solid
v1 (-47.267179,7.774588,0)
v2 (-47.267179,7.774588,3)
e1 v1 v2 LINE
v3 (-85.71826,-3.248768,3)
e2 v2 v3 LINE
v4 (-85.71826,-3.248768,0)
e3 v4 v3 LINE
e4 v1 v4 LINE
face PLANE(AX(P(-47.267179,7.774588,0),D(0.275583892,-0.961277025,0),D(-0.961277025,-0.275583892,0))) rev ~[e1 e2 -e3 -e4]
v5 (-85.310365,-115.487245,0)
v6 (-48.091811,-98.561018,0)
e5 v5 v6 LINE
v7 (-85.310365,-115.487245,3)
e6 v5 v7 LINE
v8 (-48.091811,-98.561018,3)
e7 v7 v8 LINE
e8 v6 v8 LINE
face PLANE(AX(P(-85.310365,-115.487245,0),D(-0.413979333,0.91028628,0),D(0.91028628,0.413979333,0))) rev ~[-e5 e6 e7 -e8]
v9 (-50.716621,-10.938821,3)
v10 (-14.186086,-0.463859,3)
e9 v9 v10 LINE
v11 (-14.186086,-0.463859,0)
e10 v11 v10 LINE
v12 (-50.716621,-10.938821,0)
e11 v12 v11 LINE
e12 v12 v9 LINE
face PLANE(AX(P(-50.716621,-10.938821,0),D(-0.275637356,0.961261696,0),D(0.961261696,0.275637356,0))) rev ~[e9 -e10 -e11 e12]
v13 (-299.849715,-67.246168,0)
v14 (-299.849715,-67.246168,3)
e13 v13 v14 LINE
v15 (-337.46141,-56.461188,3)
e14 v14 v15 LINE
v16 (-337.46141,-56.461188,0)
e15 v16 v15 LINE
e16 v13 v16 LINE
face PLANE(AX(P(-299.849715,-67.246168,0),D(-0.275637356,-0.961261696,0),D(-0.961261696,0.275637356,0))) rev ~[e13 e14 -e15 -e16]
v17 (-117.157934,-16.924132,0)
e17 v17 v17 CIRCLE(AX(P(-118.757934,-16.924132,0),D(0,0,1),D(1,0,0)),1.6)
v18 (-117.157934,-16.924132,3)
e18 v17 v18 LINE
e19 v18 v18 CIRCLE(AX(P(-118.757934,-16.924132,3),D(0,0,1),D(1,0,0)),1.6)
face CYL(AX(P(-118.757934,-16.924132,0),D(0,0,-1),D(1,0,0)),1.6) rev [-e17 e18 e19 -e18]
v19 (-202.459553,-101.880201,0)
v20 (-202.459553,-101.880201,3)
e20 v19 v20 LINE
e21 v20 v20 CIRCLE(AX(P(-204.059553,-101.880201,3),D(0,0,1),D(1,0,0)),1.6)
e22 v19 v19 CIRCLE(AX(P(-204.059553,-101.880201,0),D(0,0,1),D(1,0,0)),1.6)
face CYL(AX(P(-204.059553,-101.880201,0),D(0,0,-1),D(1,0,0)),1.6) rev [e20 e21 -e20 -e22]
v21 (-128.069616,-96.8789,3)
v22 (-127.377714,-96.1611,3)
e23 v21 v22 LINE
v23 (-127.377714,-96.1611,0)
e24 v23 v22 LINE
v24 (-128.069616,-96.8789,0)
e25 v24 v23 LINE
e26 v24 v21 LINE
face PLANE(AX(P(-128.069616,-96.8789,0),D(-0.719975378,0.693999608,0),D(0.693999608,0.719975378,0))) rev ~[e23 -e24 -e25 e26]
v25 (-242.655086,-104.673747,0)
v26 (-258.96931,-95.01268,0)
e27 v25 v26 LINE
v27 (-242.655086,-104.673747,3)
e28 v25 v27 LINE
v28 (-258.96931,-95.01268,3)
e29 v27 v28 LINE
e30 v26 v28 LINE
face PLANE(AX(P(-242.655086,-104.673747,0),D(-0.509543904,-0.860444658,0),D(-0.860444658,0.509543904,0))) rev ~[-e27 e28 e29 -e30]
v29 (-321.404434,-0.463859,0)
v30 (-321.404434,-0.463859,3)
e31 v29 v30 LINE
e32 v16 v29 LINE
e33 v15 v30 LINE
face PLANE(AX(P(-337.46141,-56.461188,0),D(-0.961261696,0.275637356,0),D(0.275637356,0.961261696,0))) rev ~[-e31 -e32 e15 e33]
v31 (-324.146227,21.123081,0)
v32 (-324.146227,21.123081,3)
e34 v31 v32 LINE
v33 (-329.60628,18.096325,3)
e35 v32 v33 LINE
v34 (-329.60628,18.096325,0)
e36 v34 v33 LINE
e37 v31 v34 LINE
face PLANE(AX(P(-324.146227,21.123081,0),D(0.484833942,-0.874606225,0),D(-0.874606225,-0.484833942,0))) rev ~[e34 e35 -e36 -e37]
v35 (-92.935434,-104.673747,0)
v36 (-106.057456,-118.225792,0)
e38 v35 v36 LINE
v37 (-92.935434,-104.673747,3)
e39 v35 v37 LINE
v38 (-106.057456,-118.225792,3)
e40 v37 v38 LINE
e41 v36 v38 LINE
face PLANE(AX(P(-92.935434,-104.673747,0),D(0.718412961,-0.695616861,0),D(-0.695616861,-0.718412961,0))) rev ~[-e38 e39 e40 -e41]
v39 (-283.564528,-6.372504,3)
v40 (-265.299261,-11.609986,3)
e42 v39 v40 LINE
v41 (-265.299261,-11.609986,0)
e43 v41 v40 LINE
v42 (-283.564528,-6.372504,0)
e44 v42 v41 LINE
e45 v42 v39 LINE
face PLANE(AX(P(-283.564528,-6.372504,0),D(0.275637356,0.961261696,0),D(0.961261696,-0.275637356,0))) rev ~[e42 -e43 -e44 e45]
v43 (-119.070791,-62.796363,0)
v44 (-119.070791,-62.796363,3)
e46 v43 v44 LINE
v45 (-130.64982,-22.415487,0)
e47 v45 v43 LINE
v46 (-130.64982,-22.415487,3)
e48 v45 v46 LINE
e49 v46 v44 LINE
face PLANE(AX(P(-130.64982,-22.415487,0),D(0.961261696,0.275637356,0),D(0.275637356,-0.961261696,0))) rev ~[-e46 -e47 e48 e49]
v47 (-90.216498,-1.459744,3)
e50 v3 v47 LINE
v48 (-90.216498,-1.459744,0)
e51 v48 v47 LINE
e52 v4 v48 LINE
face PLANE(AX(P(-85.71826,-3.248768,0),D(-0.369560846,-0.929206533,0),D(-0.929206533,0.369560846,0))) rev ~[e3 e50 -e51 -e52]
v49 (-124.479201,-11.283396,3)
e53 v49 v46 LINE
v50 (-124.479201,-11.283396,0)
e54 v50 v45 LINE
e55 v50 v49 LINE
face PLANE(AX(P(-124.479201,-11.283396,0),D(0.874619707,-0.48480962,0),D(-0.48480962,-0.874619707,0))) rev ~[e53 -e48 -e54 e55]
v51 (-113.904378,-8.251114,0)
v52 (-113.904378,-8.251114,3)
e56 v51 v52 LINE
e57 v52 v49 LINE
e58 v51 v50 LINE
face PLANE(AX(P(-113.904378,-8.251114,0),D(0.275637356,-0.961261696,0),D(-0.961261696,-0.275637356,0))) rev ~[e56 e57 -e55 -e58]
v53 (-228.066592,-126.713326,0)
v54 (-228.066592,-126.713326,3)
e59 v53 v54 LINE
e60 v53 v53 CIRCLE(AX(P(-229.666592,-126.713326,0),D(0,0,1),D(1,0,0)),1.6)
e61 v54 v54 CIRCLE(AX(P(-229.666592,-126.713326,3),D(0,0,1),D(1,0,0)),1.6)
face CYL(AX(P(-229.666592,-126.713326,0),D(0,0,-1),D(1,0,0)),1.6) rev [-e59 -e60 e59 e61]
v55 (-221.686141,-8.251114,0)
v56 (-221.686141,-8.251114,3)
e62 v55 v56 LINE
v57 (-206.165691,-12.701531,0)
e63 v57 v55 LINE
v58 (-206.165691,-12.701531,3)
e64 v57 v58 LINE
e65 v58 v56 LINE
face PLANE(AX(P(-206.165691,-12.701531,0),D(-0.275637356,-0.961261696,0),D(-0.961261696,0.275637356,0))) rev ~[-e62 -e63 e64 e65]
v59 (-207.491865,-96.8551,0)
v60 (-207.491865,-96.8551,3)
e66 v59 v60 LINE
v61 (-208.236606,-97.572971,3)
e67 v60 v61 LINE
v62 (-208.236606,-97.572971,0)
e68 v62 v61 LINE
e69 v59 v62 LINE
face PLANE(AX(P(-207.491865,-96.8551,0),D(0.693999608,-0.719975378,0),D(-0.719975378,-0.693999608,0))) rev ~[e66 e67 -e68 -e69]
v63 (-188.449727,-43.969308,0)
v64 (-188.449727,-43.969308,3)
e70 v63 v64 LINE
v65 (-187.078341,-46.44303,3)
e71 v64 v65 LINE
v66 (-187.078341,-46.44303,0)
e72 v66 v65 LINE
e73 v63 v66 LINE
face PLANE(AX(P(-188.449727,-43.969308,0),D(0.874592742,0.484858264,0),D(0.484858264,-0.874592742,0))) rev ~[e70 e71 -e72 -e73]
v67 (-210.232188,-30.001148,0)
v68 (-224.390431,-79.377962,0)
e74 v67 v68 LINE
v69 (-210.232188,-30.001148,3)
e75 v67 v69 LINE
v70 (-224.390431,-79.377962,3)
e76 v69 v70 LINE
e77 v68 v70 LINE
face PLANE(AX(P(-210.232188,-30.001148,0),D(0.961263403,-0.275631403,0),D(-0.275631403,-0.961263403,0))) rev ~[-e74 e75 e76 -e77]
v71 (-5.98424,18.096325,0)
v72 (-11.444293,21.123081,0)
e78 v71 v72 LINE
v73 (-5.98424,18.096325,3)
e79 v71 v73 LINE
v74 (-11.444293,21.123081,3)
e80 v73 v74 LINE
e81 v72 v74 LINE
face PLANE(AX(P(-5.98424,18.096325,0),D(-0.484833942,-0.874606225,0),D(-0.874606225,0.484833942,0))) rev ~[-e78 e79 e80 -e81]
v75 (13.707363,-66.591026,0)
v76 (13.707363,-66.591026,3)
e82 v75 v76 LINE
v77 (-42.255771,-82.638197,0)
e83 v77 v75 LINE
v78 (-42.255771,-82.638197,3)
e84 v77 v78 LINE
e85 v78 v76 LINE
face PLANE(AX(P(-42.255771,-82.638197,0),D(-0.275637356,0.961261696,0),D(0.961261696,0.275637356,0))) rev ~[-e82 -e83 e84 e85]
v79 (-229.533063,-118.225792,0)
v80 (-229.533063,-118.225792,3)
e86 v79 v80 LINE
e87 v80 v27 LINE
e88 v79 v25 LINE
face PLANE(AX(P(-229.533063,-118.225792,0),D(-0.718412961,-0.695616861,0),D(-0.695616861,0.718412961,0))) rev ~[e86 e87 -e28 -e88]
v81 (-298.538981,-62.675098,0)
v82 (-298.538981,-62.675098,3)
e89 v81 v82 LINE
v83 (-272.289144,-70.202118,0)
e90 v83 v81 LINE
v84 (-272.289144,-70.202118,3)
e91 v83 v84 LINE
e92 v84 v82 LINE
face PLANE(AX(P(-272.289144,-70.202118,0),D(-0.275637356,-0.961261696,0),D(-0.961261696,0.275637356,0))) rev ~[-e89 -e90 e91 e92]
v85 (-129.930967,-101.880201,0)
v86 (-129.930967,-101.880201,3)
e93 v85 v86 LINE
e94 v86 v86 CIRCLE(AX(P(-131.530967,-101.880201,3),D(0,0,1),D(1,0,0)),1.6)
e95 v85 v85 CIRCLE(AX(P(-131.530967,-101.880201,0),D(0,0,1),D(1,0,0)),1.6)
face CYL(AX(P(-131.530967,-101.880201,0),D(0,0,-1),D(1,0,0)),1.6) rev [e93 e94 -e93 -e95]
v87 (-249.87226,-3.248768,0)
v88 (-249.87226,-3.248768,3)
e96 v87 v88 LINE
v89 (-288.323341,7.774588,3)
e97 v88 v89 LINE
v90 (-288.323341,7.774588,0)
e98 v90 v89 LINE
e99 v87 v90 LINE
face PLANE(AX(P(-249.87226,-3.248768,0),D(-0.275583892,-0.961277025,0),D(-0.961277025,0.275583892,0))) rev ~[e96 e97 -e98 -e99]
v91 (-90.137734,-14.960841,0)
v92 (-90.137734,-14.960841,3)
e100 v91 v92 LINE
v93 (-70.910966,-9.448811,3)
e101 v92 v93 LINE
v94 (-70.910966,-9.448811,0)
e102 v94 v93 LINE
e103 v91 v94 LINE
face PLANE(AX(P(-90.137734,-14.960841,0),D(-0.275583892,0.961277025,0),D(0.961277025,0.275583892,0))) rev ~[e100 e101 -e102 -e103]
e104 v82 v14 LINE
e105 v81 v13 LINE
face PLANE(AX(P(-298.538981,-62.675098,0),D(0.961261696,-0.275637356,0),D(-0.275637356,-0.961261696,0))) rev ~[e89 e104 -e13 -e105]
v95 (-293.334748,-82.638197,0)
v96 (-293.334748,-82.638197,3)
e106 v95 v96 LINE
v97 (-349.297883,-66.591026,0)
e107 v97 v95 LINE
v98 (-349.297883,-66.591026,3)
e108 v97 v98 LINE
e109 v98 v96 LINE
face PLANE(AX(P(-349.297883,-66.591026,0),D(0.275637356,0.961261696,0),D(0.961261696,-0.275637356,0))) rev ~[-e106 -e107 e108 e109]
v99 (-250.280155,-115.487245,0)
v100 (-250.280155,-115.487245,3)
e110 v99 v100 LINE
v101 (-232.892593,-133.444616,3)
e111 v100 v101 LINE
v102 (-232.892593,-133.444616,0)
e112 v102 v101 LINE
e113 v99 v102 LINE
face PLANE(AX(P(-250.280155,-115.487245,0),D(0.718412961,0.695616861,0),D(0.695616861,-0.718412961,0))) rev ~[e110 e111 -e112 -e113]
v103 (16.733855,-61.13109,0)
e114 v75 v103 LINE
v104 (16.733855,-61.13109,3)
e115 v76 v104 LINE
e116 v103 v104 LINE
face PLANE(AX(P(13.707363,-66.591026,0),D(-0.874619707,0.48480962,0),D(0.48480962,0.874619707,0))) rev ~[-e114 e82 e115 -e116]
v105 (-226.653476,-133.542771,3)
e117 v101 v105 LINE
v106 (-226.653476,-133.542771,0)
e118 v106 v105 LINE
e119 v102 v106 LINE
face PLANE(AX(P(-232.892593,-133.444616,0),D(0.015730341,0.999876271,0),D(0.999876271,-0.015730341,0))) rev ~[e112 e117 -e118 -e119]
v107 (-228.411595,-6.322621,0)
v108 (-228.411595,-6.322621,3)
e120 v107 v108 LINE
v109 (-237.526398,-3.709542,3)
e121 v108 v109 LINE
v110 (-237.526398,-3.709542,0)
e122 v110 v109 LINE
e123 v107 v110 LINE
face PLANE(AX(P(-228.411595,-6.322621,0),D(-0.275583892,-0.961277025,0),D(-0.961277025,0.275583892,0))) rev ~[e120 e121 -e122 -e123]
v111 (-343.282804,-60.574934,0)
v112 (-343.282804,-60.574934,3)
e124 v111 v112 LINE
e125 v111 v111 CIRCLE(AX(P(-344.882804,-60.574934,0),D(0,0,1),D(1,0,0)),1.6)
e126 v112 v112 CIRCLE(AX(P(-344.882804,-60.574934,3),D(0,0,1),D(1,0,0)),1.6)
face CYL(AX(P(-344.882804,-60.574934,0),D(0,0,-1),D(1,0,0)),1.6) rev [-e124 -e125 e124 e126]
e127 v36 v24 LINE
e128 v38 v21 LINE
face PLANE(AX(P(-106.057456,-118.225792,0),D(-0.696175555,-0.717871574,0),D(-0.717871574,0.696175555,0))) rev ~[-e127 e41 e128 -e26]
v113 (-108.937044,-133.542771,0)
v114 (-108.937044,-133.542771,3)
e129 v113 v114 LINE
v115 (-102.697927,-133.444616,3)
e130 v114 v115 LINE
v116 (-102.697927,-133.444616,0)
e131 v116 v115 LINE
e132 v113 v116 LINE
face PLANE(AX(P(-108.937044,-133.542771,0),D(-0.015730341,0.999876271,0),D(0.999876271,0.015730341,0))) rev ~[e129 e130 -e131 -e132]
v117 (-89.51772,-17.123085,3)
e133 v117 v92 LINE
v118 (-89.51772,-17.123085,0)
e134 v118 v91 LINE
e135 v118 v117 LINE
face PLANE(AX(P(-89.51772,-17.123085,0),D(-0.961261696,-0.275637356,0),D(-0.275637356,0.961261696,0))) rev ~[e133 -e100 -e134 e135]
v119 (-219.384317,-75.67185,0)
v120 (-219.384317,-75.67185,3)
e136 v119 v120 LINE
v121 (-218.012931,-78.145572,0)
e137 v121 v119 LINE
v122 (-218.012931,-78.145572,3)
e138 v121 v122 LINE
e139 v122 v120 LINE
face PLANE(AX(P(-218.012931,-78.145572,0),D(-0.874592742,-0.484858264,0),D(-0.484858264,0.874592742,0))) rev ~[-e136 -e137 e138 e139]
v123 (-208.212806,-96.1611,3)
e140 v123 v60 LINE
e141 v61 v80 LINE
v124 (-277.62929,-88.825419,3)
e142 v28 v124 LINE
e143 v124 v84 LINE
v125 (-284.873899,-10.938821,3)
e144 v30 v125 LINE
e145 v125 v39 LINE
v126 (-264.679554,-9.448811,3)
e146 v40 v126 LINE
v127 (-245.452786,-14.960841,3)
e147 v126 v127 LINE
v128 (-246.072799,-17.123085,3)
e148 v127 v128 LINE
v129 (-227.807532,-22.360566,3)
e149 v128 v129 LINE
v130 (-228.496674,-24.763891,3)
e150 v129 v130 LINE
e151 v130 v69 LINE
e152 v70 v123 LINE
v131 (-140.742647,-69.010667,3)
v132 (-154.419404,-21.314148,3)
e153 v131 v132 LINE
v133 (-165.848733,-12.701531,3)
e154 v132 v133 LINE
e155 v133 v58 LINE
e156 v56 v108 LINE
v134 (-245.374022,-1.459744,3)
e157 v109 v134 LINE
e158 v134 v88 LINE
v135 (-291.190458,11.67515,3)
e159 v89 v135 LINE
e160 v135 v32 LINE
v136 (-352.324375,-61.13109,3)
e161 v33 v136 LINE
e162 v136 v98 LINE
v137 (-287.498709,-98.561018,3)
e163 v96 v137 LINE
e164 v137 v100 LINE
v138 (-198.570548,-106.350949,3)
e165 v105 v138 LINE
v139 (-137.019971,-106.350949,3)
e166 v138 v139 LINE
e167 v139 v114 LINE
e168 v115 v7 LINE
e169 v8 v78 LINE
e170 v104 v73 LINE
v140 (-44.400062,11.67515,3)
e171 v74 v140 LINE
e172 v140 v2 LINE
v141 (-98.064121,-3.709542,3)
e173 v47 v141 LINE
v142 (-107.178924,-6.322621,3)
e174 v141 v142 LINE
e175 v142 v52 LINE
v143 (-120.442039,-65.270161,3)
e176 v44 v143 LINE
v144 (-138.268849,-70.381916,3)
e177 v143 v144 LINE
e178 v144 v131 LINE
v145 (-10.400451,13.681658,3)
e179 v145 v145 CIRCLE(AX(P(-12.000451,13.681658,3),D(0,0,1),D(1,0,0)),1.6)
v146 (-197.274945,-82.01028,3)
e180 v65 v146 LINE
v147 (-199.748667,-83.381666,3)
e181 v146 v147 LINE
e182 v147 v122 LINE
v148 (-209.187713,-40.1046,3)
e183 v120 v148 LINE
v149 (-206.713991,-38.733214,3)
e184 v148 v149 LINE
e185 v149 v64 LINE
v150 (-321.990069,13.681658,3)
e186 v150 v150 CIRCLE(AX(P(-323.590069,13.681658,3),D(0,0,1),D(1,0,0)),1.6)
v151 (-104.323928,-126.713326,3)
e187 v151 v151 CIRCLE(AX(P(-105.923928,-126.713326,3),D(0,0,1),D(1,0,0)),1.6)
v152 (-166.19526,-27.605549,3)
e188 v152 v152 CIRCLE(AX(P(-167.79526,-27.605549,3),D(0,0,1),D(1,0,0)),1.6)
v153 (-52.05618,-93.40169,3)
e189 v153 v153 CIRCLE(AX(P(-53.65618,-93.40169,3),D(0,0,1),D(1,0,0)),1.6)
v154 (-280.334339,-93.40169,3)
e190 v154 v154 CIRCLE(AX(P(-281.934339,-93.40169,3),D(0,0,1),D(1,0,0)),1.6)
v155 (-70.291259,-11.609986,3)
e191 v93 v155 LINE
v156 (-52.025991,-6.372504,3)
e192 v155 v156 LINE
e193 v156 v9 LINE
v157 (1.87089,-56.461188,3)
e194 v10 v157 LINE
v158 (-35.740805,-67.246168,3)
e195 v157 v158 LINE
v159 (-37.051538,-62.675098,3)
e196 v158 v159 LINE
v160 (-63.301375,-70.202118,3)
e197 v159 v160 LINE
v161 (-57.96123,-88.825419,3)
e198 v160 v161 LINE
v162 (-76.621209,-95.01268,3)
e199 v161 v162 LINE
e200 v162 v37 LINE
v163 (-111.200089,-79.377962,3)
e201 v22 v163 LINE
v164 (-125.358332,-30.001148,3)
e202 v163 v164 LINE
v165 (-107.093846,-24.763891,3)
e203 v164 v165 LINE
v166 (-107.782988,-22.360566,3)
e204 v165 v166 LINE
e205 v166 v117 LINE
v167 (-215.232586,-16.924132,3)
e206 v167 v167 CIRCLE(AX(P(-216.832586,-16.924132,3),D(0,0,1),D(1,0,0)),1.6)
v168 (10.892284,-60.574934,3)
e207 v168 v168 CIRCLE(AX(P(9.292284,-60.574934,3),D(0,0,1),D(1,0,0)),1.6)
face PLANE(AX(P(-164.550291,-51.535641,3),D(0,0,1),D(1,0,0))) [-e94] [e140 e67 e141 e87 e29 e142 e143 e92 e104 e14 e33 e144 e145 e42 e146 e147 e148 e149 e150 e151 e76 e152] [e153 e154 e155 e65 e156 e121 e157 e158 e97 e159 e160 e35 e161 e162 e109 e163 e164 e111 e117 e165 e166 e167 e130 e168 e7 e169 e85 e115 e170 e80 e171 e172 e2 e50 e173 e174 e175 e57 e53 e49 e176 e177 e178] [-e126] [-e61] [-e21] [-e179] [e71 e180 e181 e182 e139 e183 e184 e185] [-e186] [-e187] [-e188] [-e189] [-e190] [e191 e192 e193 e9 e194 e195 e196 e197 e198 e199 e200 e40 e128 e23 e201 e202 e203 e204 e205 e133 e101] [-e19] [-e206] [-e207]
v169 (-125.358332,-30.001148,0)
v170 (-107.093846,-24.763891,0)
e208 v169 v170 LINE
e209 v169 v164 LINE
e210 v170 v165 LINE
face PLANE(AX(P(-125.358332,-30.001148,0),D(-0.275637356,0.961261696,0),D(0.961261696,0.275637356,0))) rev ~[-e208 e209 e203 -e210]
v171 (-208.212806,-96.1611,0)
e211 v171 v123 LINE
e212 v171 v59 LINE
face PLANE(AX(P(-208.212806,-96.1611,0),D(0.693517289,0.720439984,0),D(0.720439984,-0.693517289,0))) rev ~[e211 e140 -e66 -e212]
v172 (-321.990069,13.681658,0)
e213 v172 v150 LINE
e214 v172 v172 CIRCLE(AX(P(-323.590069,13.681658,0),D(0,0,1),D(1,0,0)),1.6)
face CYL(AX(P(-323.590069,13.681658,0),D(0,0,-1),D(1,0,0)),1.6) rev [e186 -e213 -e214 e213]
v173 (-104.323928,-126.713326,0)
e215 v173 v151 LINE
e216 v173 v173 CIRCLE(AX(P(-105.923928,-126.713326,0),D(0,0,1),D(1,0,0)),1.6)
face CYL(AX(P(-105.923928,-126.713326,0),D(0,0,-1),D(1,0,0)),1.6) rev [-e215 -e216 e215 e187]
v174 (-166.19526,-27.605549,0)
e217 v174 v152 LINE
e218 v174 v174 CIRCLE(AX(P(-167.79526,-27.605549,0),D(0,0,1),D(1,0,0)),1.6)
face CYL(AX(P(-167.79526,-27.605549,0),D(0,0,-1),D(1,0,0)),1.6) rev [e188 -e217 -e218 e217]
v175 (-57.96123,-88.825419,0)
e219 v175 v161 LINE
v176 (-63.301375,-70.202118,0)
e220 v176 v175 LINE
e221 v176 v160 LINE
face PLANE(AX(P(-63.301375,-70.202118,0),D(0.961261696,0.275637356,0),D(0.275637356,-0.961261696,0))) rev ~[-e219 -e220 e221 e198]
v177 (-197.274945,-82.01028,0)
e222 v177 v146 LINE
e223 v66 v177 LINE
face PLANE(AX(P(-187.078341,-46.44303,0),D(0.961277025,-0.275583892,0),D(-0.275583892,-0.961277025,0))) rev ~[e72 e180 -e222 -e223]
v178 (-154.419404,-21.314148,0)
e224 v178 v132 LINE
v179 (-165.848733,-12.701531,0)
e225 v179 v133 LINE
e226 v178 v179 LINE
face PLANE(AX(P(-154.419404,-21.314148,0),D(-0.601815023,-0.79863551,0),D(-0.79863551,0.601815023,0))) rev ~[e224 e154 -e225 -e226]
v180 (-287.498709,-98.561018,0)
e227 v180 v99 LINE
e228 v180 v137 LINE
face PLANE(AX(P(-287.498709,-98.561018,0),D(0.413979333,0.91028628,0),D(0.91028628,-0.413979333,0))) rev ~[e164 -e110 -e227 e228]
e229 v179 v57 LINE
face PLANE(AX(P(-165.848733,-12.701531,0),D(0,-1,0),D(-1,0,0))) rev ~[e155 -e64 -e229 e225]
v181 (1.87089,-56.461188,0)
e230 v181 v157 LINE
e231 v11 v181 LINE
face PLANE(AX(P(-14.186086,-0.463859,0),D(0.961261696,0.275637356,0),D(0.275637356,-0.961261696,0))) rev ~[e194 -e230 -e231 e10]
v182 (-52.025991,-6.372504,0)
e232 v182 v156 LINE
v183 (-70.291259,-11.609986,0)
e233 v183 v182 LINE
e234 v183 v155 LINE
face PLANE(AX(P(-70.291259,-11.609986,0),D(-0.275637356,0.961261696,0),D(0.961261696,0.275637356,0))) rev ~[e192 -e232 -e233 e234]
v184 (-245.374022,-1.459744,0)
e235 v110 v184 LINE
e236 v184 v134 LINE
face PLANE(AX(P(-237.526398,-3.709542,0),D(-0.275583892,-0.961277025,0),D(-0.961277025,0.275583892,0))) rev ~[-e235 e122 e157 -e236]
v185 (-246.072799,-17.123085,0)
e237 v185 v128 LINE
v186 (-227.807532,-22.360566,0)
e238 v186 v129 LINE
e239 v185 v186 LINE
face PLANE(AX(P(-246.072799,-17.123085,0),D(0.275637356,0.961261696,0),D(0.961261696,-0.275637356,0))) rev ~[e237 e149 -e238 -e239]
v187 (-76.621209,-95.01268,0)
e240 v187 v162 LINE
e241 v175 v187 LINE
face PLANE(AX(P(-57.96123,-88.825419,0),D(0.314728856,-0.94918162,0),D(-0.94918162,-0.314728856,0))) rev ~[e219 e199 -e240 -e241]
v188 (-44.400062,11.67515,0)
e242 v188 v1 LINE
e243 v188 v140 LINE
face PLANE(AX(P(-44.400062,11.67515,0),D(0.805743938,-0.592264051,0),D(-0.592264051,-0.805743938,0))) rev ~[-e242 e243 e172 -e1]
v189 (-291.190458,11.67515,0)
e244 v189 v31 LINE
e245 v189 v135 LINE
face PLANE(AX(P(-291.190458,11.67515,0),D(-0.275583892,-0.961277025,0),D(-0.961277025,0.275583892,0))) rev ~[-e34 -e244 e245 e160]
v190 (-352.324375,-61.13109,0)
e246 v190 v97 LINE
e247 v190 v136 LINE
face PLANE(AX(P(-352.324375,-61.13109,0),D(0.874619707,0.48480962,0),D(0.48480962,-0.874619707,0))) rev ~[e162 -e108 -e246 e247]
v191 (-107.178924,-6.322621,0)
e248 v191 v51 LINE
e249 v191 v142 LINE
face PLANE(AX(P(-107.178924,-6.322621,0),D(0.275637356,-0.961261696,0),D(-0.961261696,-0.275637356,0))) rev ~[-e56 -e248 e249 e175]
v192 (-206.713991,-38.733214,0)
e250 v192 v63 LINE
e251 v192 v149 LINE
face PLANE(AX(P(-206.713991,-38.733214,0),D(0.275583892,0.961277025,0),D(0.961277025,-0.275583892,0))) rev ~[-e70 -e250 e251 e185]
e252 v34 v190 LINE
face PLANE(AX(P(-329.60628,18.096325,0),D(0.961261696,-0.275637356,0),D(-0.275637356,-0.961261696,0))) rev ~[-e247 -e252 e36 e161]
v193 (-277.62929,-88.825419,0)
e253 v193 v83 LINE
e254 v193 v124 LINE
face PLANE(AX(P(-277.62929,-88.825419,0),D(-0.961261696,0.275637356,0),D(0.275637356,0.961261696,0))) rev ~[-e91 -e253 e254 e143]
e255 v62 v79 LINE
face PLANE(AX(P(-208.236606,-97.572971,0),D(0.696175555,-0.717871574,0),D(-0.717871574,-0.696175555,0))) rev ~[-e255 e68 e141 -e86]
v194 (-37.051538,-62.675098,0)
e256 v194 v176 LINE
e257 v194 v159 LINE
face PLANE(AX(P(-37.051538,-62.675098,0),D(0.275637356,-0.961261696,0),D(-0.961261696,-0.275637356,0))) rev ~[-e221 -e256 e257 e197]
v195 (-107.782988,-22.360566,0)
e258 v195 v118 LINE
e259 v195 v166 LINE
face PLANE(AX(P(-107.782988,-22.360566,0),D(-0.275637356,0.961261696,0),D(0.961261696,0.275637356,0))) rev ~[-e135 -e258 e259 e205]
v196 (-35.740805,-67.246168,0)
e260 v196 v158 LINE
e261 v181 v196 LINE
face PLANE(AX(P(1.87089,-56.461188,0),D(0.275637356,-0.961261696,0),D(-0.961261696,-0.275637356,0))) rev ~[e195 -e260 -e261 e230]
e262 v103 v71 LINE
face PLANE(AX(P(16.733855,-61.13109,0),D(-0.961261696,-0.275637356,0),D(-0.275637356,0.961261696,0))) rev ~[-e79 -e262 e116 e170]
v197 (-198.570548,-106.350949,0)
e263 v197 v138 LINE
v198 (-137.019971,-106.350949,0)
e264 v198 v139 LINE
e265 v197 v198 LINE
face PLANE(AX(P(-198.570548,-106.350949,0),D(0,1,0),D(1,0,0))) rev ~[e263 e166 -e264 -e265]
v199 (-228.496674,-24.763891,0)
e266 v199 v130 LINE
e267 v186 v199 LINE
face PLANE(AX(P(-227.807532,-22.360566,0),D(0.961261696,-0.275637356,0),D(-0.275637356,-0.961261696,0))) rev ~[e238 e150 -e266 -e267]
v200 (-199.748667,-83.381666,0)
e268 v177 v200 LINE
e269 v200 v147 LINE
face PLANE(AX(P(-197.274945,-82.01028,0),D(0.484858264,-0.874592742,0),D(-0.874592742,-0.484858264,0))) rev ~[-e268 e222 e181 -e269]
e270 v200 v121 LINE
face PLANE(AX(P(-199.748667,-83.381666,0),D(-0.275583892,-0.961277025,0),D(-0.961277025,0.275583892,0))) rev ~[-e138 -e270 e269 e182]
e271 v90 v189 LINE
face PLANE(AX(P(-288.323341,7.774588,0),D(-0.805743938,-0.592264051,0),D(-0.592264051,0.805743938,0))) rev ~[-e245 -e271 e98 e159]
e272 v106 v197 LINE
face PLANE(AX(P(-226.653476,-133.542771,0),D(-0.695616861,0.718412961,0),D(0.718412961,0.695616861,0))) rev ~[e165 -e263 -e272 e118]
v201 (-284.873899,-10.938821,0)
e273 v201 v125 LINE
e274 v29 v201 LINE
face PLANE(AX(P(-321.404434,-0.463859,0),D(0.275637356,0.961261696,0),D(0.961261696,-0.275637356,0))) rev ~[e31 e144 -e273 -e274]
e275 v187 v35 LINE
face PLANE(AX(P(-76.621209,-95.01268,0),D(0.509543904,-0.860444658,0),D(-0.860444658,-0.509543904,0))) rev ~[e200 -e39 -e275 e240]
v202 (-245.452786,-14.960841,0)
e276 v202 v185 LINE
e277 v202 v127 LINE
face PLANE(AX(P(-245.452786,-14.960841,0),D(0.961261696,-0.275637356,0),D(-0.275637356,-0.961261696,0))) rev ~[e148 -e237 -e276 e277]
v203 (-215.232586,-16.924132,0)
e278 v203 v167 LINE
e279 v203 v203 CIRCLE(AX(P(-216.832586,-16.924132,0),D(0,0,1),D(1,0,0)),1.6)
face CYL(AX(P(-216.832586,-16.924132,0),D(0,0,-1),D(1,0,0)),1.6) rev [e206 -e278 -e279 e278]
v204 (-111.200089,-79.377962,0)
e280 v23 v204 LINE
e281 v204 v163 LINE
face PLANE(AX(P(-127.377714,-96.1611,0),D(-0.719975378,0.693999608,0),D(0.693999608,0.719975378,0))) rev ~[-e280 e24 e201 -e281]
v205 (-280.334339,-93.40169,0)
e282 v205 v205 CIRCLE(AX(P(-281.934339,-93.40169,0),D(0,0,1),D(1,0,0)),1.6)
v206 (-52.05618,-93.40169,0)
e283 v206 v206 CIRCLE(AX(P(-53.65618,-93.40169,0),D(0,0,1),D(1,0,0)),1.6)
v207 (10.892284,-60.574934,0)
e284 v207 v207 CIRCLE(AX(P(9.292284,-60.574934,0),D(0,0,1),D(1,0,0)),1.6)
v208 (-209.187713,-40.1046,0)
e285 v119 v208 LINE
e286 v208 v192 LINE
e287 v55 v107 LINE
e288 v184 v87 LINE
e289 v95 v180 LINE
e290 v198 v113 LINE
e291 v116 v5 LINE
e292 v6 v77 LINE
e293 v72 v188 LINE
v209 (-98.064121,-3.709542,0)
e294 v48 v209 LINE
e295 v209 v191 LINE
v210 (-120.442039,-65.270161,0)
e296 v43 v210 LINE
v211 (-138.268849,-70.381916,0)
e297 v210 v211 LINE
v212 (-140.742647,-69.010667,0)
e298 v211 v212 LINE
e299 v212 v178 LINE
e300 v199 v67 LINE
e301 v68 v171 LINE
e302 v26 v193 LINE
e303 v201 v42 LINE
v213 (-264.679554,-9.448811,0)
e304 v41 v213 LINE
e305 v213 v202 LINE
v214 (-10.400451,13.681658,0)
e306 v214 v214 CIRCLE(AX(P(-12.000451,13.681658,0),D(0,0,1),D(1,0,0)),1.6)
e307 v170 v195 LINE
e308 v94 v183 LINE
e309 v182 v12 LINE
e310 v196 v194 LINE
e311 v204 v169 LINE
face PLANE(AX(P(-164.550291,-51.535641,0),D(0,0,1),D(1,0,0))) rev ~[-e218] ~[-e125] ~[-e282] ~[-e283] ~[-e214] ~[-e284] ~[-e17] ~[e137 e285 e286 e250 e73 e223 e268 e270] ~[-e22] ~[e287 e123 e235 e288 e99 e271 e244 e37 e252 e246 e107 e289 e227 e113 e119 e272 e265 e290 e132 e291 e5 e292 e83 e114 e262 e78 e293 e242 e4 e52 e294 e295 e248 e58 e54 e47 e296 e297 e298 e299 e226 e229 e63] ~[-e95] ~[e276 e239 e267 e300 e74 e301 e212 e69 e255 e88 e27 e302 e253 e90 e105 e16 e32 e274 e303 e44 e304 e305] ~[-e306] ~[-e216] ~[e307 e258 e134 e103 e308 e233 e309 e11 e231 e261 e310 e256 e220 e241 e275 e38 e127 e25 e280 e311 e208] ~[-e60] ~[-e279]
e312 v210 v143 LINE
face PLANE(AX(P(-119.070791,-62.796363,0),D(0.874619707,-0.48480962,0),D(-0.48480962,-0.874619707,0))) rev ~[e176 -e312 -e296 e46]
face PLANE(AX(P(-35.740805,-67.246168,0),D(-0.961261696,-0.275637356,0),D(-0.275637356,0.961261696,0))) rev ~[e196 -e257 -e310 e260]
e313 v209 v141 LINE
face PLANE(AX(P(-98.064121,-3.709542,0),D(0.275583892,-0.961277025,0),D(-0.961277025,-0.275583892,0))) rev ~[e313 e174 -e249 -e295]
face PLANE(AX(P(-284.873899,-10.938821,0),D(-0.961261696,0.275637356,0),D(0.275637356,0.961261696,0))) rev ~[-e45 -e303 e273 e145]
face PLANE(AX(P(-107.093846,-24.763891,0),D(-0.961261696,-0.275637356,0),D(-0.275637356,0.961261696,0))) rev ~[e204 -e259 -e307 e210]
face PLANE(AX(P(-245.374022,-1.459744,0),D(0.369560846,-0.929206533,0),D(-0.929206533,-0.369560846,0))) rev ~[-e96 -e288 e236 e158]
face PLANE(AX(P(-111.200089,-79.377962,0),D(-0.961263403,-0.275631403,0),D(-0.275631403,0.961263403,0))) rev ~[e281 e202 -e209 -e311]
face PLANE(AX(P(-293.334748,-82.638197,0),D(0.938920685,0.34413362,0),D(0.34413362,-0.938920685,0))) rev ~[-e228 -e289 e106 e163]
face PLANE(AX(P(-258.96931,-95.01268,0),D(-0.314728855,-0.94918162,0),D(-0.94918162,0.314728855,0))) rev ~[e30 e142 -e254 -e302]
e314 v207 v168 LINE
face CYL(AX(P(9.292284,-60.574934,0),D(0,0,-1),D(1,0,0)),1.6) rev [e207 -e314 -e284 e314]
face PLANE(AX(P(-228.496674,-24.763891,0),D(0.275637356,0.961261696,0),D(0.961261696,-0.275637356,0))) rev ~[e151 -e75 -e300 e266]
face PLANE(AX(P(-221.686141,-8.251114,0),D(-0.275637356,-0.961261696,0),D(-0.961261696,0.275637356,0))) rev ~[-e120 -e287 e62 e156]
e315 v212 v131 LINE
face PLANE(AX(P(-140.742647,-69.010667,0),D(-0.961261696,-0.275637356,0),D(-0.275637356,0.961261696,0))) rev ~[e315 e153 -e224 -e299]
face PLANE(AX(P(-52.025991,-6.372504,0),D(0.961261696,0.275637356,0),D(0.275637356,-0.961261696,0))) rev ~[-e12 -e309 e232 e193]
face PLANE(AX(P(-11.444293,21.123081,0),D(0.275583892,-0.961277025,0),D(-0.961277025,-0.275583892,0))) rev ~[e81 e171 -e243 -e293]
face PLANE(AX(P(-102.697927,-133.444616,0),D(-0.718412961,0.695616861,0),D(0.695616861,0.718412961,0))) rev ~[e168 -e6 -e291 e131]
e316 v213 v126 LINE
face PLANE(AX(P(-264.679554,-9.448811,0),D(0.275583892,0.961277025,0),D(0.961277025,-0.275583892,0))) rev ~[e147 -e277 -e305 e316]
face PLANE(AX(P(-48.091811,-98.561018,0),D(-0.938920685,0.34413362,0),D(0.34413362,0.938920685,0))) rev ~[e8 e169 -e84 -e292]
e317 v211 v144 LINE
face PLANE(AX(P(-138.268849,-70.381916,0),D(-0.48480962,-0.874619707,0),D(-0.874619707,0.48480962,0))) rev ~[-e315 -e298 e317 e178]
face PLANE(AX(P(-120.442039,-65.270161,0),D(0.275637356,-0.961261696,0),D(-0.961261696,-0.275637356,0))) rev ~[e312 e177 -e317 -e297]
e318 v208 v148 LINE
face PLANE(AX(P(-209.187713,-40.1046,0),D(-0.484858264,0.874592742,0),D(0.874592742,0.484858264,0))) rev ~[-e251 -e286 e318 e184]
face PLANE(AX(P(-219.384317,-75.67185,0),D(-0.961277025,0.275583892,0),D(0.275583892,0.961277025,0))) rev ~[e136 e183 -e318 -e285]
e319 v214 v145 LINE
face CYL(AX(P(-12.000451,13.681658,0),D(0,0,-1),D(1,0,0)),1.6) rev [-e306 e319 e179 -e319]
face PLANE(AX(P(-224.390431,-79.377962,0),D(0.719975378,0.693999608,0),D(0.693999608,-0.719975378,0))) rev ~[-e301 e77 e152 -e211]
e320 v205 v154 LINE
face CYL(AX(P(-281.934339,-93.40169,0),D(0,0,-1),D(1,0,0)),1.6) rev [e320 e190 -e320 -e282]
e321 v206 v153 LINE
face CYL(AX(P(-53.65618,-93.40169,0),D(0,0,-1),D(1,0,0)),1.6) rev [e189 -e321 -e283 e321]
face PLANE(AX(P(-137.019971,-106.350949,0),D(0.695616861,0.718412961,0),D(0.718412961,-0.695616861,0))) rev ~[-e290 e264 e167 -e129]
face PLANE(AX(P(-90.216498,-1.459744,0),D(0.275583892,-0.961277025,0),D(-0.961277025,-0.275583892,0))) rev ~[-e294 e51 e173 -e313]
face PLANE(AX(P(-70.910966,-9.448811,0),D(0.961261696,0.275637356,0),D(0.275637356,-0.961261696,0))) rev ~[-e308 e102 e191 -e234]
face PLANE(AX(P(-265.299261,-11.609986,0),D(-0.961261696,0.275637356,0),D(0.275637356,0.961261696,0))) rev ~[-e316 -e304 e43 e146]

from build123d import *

# Parameters (mm, degrees)
ESQUISSE1_R        = 1.6
BOSS_EXTRU_1_DEPTH = 3


with BuildPart() as part:
    # Esquisse1 → Boss.-Extru.1 (new body)
    with BuildSketch(Plane.XY):
        Polygon((-130.649820486, -22.415487094), (-119.070790786, -62.796362516), (-120.442039466, -65.27016062), (-138.268849115, -70.381916029), (-140.742647218, -69.010667349), (-154.419403971, -21.314148304), (-165.848732708, -12.701531345), (-206.165691337, -12.701531345), (-221.686141291, -8.251113935), (-228.411595336, -6.322621021), (-237.526398495, -3.709541892), (-245.374022141, -1.459744369), (-249.872259625, -3.248768002), (-288.323340616, 7.774587685), (-291.190458161, 11.675149567), (-324.146226634, 21.123080509), (-329.606279511, 18.096325283), (-352.324375235, -61.131089881), (-349.297882974, -66.591026451), (-293.334748244, -82.638197107), (-287.498708924, -98.561018129), (-250.280154874, -115.48724507), (-232.892593163, -133.444615579), (-226.653475651, -133.542771169), (-198.570548361, -106.350948678), (-137.019971382, -106.350948678), (-108.937044092, -133.542771169), (-102.69792658, -133.444615579), (-85.310364869, -115.48724507), (-48.091810819, -98.561018129), (-42.255771499, -82.638197107), (13.707363231, -66.591026451), (16.733855492, -61.131089881), (-5.984240232, 18.096325283), (-11.444293109, 21.123080509), (-44.400061582, 11.675149567), (-47.267179127, 7.774587685), (-85.718260118, -3.248768002), (-90.216497602, -1.459744369), (-98.064121248, -3.709541892), (-107.178924407, -6.322621021), (-113.904378452, -8.251113935), (-124.479201425, -11.283395628), align=None)
        with Locations((-229.666591606, -126.713325795)):
            Circle(ESQUISSE1_R, mode=Mode.SUBTRACT)
        with Locations((-204.059552706, -101.880200807)):
            Circle(ESQUISSE1_R, mode=Mode.SUBTRACT)
        with Locations((-281.934339477, -93.401689518)):
            Circle(ESQUISSE1_R, mode=Mode.SUBTRACT)
        with Locations((-344.882804027, -60.574933915)):
            Circle(ESQUISSE1_R, mode=Mode.SUBTRACT)
        Polygon((-210.232188047, -30.001147656), (-224.390430785, -79.377961929), (-208.212806214, -96.161100182), (-207.491865187, -96.85509979), (-208.236606037, -97.572971364), (-229.533063287, -118.225792128), (-242.655085998, -104.673746846), (-258.969310369, -95.012679745), (-277.629290011, -88.825419148), (-272.289144354, -70.202118055), (-298.538981418, -62.6750984), (-299.849714513, -67.246167925), (-337.461409717, -56.461187875), (-321.404434006, -0.463858857), (-284.873898651, -10.938821309), (-283.564528345, -6.372504389), (-265.299260667, -11.609985616), (-264.679553884, -9.448811229), (-245.452786066, -14.960840928), (-246.072799476, -17.123084647), (-227.807531798, -22.360565873), (-228.496674065, -24.763890567), align=None, mode=Mode.SUBTRACT)
        Polygon((-187.078341197, -46.443029785), (-197.274945207, -82.010279702), (-199.748667041, -83.381665967), (-218.012930512, -78.145572016), (-219.384316777, -75.671850182), (-209.187712767, -40.104600265), (-206.713990933, -38.733214), (-188.449727462, -43.969307951), align=None, mode=Mode.SUBTRACT)
        with Locations((-105.923928137, -126.713325795)):
            Circle(ESQUISSE1_R, mode=Mode.SUBTRACT)
        with Locations((-131.530967037, -101.880200807)):
            Circle(ESQUISSE1_R, mode=Mode.SUBTRACT)
        with Locations((-53.656180266, -93.401689518)):
            Circle(ESQUISSE1_R, mode=Mode.SUBTRACT)
        Polygon((-106.057456456, -118.225792128), (-128.0696158, -96.878899722), (-127.377713529, -96.161100182), (-111.200088958, -79.377961929), (-125.358331696, -30.001147656), (-107.093845678, -24.763890567), (-107.782987945, -22.360565873), (-89.517720268, -17.123084647), (-90.137733677, -14.960840928), (-70.910965859, -9.448811229), (-70.291259076, -11.609985616), (-52.025991399, -6.372504389), (-50.716621092, -10.938821309), (-14.186085737, -0.463858857), (1.870889973, -56.461187875), (-35.740805231, -67.246167925), (-37.051538325, -62.6750984), (-63.301375389, -70.202118055), (-57.961229733, -88.825419148), (-76.621209374, -95.012679745), (-92.935433745, -104.673746846), align=None, mode=Mode.SUBTRACT)
        with Locations((9.292284284, -60.574933915)):
            Circle(ESQUISSE1_R, mode=Mode.SUBTRACT)
        with Locations((-167.795259872, -27.605548894)):
            Circle(ESQUISSE1_R, mode=Mode.SUBTRACT)
        with Locations((-323.590068827, 13.68165837)):
            Circle(ESQUISSE1_R, mode=Mode.SUBTRACT)
        with Locations((-216.832585966, -16.924131519)):
            Circle(ESQUISSE1_R, mode=Mode.SUBTRACT)
        with Locations((-118.757933777, -16.924131519)):
            Circle(ESQUISSE1_R, mode=Mode.SUBTRACT)
        with Locations((-12.000450916, 13.68165837)):
            Circle(ESQUISSE1_R, mode=Mode.SUBTRACT)
    extrude(amount=BOSS_EXTRU_1_DEPTH)


solid = part.part
